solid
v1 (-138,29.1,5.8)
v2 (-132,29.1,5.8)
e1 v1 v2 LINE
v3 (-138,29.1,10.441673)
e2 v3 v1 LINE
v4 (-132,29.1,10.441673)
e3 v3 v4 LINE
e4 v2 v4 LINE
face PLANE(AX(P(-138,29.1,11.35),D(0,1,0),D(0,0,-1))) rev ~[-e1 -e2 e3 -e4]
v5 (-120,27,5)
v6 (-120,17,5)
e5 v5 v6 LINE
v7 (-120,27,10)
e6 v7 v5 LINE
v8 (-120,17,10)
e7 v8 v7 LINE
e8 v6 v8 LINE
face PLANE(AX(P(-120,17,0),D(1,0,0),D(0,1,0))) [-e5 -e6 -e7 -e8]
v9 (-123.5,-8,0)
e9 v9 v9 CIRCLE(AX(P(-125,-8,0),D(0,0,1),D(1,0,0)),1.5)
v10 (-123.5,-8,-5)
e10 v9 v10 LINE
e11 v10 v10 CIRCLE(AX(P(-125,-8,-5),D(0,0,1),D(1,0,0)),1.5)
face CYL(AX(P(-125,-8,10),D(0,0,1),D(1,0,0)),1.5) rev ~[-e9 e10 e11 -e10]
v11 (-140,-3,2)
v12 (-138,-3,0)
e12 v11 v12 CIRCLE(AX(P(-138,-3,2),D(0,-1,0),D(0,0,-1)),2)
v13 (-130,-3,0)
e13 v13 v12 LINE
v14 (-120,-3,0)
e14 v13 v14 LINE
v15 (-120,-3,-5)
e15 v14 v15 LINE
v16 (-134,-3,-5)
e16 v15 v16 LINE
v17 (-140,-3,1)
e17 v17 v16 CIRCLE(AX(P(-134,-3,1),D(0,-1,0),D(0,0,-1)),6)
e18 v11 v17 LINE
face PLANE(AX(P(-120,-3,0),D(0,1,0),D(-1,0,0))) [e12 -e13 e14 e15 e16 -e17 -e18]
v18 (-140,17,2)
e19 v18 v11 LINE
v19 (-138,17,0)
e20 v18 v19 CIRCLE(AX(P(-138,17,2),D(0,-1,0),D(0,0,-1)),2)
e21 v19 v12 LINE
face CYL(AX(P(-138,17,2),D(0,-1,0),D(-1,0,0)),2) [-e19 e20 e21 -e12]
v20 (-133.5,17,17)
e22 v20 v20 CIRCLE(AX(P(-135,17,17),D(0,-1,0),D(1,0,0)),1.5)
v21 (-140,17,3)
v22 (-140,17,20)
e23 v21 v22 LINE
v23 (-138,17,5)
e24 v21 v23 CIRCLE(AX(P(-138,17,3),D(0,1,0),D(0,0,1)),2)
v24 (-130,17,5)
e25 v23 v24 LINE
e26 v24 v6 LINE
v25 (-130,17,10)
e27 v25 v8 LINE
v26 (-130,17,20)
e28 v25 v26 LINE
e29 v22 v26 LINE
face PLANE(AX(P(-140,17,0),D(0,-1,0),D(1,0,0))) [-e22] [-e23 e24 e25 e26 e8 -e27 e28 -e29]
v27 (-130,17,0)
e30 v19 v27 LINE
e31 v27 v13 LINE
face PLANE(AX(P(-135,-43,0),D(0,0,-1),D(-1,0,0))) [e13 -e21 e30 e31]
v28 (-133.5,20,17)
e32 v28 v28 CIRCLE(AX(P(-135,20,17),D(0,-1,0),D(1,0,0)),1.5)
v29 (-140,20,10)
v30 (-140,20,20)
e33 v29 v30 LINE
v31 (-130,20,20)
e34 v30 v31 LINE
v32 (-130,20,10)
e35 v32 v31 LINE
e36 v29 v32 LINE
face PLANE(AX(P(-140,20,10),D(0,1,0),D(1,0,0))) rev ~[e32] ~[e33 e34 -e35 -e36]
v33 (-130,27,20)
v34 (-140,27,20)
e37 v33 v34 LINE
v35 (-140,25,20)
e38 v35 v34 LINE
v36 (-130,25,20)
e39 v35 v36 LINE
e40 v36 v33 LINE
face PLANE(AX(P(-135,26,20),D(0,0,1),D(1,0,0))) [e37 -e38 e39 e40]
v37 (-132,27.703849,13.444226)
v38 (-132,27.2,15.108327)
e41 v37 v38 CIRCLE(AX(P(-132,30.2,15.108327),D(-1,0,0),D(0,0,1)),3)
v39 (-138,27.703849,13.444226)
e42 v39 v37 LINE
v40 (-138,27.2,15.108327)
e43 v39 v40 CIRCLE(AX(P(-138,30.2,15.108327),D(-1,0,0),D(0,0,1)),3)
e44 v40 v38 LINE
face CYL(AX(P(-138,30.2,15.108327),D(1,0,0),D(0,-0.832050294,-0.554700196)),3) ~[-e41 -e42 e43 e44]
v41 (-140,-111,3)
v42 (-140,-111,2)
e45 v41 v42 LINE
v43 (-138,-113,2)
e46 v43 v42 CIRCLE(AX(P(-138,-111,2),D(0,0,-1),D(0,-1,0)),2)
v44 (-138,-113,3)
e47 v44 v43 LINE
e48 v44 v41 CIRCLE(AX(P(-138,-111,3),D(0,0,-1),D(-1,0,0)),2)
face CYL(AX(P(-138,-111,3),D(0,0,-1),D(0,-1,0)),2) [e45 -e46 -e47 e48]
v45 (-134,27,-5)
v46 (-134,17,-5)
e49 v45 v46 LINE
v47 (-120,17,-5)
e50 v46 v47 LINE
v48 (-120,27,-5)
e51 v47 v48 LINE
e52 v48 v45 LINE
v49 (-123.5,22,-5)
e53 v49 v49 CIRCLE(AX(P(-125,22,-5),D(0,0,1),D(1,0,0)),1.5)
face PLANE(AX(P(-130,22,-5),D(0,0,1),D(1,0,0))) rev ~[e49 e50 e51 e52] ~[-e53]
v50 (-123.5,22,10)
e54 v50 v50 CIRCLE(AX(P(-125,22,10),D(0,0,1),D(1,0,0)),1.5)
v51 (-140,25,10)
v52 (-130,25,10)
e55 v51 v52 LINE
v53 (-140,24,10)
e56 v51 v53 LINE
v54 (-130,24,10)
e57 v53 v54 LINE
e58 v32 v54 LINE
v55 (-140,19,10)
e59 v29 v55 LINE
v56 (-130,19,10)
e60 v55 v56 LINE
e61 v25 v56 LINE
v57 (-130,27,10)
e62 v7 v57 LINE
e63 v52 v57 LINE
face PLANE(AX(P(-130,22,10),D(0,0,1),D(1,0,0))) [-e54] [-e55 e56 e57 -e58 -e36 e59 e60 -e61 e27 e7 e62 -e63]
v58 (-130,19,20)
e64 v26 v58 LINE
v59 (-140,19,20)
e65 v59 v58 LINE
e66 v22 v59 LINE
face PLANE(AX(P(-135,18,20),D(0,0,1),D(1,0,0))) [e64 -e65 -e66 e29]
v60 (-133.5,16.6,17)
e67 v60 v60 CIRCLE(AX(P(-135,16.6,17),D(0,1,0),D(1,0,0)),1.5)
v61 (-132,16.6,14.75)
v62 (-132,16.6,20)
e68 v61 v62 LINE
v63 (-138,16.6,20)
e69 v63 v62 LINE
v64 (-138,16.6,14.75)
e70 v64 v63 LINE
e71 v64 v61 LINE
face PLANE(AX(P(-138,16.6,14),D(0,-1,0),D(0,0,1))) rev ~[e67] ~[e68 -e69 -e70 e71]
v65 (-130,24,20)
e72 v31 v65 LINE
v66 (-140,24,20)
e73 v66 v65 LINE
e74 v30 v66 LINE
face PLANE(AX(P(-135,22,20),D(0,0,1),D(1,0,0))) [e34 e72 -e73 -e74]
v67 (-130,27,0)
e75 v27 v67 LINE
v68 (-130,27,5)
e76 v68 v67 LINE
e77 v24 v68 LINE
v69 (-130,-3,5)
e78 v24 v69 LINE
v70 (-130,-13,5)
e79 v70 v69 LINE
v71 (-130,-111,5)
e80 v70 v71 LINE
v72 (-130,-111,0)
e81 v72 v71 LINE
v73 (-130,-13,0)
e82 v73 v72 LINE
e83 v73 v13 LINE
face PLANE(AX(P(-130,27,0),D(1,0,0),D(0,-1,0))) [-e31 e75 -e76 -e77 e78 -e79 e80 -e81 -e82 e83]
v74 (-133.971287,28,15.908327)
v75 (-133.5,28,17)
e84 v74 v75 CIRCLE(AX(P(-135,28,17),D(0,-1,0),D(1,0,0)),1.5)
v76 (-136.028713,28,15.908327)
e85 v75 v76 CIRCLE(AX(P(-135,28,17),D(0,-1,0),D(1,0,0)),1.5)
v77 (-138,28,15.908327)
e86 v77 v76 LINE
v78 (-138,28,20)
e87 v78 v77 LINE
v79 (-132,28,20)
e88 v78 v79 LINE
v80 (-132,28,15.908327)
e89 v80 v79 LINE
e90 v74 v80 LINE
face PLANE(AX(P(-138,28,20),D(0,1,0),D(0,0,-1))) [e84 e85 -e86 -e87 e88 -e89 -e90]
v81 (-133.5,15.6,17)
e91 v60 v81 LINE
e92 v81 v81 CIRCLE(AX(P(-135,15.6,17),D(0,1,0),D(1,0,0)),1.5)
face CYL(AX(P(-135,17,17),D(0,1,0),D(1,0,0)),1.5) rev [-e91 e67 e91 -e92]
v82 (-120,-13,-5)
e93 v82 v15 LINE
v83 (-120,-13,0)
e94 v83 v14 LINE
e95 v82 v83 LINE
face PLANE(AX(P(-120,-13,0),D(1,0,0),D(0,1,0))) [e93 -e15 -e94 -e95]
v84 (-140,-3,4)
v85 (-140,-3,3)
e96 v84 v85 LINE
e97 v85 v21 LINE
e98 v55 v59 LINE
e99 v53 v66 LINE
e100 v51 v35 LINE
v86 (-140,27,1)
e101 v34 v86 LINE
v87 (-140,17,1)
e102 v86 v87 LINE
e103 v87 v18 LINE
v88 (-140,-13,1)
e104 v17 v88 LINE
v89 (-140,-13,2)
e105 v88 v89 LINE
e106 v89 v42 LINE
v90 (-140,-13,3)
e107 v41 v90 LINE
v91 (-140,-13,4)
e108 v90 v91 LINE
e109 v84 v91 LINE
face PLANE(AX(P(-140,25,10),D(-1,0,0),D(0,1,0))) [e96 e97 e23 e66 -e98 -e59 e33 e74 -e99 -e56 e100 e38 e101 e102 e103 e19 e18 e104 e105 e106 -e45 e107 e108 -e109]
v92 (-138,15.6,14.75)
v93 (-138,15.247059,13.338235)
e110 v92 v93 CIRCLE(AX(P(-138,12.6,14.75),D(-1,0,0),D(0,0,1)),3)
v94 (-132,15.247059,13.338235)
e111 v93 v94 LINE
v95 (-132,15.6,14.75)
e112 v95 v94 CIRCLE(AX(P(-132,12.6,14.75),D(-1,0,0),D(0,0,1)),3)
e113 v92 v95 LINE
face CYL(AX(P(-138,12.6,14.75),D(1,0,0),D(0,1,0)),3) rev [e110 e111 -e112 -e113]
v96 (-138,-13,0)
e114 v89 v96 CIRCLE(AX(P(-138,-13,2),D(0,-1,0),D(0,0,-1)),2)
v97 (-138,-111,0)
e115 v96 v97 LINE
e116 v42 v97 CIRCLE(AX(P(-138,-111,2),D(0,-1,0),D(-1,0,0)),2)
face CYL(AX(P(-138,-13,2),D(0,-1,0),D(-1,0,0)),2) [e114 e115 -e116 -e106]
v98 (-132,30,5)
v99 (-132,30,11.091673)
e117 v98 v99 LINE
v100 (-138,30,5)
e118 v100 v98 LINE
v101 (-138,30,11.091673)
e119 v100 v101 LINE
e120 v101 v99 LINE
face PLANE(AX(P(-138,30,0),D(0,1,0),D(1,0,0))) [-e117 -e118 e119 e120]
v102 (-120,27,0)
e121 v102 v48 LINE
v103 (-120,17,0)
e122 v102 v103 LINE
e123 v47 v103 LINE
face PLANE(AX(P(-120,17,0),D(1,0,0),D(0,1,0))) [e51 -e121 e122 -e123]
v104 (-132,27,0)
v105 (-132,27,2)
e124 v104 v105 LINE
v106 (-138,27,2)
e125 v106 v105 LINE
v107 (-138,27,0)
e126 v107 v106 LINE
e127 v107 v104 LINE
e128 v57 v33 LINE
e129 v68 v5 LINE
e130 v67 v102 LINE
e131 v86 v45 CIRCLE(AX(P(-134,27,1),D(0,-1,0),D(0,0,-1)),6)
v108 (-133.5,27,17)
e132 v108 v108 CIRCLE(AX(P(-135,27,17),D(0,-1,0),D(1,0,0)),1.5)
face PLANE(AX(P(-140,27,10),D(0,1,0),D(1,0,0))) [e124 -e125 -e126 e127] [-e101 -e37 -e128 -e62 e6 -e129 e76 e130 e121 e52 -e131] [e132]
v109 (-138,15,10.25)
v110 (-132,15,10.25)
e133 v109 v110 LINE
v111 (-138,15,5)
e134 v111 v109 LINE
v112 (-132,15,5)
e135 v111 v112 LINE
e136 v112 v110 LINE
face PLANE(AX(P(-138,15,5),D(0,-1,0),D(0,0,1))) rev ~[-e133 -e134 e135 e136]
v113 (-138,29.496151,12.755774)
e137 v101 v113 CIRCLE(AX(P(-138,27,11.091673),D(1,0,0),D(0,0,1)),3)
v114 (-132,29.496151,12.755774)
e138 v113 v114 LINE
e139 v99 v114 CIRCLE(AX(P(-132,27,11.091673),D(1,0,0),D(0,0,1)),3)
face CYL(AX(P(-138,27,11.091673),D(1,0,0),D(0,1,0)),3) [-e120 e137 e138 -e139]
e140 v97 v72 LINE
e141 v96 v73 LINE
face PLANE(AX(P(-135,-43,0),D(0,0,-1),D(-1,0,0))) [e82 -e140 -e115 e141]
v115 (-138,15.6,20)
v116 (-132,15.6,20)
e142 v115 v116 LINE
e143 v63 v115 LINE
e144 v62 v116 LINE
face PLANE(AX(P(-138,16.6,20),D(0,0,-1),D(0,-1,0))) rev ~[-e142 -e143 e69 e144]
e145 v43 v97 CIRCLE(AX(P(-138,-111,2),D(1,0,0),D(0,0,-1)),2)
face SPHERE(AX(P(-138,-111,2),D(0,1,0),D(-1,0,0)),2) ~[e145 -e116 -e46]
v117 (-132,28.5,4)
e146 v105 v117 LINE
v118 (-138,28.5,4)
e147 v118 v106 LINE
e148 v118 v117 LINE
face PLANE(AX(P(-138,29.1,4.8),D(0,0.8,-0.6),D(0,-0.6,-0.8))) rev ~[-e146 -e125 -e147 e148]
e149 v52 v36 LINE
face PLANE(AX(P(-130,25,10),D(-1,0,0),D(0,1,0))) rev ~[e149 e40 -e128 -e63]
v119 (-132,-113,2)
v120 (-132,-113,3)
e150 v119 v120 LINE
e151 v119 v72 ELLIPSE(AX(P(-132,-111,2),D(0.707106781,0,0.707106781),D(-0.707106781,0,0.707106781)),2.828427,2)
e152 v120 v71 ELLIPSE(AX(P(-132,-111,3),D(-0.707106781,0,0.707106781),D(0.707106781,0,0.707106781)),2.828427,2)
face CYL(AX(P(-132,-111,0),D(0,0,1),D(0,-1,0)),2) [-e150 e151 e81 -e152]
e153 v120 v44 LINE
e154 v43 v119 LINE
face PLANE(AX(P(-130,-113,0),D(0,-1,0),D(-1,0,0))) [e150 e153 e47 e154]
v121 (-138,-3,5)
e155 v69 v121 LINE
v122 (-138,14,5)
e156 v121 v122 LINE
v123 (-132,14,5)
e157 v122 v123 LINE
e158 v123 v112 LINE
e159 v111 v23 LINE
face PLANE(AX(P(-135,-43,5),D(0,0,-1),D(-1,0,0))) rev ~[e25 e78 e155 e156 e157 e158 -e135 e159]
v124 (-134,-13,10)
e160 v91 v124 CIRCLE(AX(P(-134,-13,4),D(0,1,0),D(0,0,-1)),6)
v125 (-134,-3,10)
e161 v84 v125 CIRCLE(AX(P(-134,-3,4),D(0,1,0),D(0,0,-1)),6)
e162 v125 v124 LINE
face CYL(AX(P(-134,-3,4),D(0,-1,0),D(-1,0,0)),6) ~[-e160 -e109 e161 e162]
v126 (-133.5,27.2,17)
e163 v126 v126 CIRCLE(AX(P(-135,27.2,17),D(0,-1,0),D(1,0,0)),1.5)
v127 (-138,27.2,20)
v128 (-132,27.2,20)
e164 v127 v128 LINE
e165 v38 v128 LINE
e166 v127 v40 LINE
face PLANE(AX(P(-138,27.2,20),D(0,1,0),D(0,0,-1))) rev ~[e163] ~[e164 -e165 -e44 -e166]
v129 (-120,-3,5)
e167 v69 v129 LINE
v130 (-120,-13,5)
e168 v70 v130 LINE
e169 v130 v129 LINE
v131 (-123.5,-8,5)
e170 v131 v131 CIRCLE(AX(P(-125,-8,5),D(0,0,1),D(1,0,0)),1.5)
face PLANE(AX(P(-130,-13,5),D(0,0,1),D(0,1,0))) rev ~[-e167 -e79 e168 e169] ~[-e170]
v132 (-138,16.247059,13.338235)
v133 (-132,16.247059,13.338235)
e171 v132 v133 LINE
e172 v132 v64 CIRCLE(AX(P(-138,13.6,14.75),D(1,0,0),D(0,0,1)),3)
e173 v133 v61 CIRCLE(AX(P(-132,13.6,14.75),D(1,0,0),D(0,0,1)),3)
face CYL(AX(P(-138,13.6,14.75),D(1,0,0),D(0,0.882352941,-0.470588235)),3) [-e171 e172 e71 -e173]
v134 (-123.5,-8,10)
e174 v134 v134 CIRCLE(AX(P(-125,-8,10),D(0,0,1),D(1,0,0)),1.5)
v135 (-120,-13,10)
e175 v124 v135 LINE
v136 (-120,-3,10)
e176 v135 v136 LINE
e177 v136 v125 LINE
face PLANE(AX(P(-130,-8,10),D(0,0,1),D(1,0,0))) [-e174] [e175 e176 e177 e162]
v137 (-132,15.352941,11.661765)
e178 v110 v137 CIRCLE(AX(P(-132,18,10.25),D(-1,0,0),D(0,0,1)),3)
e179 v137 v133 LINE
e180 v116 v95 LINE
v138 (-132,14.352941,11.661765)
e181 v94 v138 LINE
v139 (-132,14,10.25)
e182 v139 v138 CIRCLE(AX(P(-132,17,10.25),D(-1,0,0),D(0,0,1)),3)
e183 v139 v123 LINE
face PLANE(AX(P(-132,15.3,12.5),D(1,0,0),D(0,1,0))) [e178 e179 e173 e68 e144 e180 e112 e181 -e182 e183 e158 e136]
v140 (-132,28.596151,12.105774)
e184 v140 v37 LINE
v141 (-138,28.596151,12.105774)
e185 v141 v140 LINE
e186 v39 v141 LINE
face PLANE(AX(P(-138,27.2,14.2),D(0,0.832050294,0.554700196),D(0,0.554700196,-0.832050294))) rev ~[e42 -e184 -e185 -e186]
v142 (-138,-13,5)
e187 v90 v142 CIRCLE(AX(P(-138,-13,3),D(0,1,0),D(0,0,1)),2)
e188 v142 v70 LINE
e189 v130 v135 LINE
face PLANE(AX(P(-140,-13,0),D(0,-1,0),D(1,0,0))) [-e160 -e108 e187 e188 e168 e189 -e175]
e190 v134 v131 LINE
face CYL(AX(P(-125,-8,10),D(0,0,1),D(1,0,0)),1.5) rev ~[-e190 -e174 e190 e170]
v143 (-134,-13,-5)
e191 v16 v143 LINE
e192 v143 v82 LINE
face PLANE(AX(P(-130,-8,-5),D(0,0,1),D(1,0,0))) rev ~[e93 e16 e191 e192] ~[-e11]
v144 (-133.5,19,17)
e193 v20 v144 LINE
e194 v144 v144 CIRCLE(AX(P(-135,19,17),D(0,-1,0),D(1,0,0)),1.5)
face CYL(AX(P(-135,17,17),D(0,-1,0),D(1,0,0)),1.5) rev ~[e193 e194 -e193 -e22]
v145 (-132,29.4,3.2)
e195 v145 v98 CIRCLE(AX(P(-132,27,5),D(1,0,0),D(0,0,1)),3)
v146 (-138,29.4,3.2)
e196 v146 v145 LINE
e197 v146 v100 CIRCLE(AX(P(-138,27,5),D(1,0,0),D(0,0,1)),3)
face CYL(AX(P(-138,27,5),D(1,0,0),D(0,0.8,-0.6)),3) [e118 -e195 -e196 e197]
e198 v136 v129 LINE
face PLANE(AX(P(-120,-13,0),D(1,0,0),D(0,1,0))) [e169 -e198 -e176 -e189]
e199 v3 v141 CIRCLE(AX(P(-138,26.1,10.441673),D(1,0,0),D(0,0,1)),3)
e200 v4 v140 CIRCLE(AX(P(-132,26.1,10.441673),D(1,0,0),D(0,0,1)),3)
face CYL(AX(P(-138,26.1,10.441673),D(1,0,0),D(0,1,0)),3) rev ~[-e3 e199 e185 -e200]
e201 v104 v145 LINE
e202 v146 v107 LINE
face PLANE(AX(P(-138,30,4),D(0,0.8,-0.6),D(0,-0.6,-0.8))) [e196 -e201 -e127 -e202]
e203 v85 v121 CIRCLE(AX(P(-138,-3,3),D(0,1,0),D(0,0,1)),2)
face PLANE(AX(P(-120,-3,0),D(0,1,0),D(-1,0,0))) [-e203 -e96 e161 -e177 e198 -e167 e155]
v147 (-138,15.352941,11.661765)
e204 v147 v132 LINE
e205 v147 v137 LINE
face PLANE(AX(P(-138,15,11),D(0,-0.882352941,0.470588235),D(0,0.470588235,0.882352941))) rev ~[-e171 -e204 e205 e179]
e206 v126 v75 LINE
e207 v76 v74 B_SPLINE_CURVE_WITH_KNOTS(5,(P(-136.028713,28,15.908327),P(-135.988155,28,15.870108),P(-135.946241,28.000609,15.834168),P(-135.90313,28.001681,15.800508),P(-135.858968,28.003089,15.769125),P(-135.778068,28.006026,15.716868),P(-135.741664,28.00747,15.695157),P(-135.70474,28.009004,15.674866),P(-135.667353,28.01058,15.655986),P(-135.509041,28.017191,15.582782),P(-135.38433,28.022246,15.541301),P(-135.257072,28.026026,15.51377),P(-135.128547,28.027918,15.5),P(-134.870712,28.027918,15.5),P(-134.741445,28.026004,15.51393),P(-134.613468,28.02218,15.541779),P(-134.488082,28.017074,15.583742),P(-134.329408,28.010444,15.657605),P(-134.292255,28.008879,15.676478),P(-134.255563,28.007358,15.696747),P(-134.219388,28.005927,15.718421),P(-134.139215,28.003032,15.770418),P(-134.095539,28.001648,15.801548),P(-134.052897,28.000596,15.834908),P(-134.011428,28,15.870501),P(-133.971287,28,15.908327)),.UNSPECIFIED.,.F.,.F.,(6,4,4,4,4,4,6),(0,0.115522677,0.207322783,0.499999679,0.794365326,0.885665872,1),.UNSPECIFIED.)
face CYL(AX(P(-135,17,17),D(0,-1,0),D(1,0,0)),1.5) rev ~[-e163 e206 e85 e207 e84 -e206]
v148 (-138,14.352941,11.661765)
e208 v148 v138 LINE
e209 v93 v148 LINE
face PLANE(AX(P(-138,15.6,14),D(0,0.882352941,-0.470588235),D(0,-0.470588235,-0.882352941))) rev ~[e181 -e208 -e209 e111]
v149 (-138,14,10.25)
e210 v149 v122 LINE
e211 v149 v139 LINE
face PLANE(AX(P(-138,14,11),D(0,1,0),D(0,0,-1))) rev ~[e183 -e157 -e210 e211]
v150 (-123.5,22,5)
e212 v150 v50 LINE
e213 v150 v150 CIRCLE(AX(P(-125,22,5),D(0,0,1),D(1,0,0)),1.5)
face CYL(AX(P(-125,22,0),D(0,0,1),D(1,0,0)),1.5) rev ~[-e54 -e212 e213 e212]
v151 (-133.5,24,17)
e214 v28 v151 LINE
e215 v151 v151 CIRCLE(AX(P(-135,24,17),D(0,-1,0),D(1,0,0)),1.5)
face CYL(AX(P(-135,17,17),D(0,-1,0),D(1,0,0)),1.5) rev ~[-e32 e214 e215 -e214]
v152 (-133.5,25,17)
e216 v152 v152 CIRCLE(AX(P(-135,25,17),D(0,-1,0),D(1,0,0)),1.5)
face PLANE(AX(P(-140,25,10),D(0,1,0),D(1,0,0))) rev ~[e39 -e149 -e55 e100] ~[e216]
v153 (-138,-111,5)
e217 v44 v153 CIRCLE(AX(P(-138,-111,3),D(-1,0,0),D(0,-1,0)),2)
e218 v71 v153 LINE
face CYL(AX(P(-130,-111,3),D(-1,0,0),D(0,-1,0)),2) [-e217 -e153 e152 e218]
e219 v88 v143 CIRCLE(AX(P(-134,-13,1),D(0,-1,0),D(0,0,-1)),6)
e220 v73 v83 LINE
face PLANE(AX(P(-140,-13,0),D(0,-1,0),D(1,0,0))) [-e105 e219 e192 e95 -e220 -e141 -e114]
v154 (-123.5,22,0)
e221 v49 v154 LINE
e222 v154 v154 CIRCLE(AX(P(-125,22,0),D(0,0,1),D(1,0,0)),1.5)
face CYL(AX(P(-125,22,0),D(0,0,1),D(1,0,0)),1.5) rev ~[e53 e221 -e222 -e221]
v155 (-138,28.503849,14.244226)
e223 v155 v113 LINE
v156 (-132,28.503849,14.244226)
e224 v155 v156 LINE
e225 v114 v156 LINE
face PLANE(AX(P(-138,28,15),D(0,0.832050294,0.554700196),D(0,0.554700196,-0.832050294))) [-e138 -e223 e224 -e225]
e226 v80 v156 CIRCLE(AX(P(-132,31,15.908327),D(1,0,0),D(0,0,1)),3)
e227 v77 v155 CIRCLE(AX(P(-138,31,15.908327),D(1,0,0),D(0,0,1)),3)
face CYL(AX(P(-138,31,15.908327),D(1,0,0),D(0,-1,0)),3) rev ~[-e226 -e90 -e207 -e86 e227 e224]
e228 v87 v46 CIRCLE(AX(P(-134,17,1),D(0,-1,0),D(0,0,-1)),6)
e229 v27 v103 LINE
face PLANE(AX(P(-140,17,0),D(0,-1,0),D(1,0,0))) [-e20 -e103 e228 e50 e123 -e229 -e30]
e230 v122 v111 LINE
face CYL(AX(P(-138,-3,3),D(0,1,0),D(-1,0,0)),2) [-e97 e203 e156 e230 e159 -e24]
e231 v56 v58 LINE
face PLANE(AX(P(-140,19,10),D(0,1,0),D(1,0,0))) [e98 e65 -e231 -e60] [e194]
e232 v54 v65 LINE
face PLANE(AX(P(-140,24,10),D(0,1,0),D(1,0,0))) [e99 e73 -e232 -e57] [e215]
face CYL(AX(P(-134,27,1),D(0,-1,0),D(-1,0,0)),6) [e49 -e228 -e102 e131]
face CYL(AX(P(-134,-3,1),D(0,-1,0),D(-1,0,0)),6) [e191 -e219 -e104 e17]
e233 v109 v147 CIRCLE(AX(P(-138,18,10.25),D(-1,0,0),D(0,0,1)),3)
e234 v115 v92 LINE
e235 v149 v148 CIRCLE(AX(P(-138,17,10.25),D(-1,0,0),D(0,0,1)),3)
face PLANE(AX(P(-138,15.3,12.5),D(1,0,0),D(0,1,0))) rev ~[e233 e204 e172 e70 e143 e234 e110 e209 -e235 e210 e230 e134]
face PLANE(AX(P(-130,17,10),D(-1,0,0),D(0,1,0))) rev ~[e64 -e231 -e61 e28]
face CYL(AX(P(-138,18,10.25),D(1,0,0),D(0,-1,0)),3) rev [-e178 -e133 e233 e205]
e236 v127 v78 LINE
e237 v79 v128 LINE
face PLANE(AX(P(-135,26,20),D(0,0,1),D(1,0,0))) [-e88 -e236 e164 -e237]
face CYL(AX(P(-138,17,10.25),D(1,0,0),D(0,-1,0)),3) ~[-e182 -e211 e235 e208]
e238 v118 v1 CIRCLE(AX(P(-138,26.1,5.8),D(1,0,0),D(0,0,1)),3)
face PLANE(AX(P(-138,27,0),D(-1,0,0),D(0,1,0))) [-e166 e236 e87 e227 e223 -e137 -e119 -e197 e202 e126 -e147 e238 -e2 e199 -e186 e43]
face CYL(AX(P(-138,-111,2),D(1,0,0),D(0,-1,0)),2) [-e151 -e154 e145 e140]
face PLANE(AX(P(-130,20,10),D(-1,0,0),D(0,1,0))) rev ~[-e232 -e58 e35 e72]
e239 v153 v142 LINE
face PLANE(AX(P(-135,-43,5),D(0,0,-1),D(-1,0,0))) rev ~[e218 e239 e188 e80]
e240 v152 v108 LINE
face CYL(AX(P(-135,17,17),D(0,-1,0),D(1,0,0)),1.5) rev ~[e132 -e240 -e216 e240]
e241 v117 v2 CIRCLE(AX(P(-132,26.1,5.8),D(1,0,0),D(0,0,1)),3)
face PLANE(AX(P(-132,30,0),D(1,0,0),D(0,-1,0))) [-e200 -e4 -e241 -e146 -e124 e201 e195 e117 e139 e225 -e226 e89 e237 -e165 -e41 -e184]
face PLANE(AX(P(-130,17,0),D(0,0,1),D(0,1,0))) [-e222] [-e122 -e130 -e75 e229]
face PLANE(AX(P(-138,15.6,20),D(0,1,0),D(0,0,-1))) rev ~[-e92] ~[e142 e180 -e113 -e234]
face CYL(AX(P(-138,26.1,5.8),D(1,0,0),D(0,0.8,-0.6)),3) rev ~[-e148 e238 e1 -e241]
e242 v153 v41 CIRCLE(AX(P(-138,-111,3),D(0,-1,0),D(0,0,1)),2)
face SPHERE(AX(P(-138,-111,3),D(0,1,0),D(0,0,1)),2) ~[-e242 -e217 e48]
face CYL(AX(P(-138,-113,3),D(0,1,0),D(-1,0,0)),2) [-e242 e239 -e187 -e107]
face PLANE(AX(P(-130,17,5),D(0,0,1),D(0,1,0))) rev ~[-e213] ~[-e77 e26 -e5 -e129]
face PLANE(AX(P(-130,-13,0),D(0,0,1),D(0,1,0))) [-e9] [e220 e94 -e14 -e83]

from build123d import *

# Parameters (mm, degrees)
PAD008_DEPTH         = 5
PAD009_DEPTH         = 10
PAD009_DEPTH_BACK    = 5
SKETCH045_W          = 10
SKETCH045_H          = 5
POCKET004_DEPTH      = 11
SKETCH044_R          = 1.5
POCKET005_DEPTH      = 10
PAD010_DEPTH         = 10
PAD010_DEPTH_BACK    = 5
SKETCH042_W          = 10
SKETCH042_H          = 5
POCKET006_DEPTH      = 10
SKETCH041_R          = 1.5
POCKET007_DEPTH      = 15
FILLET_R             = 2
FILLET001_R          = 6
FILLET002_R          = 2
SKETCH039_W          = 10
SKETCH039_H          = 2
SKETCH039_H_2        = 4
PAD021_DEPTH         = 10
PAD022_DEPTH         = 20
POCKET018_DEPTH      = 8
PAD025_DEPTH         = 6
FILLET003_R          = 3
SKETCH040_R          = 1.5
POCKET023_DEPTH      = 15
POCKET023_DEPTH_BACK = 6


with BuildPart() as part:
    # Sketch047 → Pad008 (new body)
    with BuildSketch(Plane.XY):
        Polygon((0, 0), (5, 0), (5, -140), (-5, -140), (-5, 0), align=None)
    extrude(amount=PAD008_DEPTH)

    # Sketch046 → Pad009 (join, two sides)
    with BuildSketch(Plane.XY) as pad009_sk:
        Polygon((0, 0), (-5, 0), (-5, -10), (15, -10), (15, 0), align=None)
    extrude(amount=PAD009_DEPTH)
    extrude(pad009_sk.sketch, amount=-PAD009_DEPTH_BACK)

    # Sketch045 → Pocket004 (cut)
    with BuildSketch(Plane.YZ.offset(5)):
        with Locations((-5, 2.5)):
            Rectangle(SKETCH045_W, SKETCH045_H)
    extrude(amount=POCKET004_DEPTH, mode=Mode.SUBTRACT)

    # Sketch044 → Pocket005 (cut, symmetric)
    with BuildSketch(Plane(origin=(10, -5, 0), x_dir=(1, 0, 0), z_dir=(0, 0, 1))):
        Circle(SKETCH044_R)
    extrude(amount=POCKET005_DEPTH, both=True, mode=Mode.SUBTRACT)

    # Sketch043 → Pad010 (join, two sides)
    with BuildSketch(Plane.XY) as pad010_sk:
        Polygon((0, -30), (-5, -30), (-5, -40), (15, -40), (15, -30), align=None)
    extrude(amount=PAD010_DEPTH)
    extrude(pad010_sk.sketch, amount=-PAD010_DEPTH_BACK)

    # Sketch042 → Pocket006 (cut)
    with BuildSketch(Plane.YZ.offset(5)):
        with Locations((-35, 2.5)):
            Rectangle(SKETCH042_W, SKETCH042_H)
    extrude(amount=POCKET006_DEPTH, mode=Mode.SUBTRACT)

    # Sketch041 → Pocket007 (cut)
    with BuildSketch(Plane(origin=(10, -35, 10), x_dir=(1, 0, 0), z_dir=(0, 0, 1))):
        Circle(SKETCH041_R)
    extrude(amount=-POCKET007_DEPTH, mode=Mode.SUBTRACT)

    # Fillet
    fillet_edges = [part.edges().sort_by_distance(p)[0] for p in [
        (-5, -20, 5),
        (-5, -90, 5),
        (-5, -90, 0),
        (-5, -20, 0),
    ]]
    fillet(fillet_edges, radius=FILLET_R)

    # Fillet001
    fillet001_edges = [part.edges().sort_by_distance(p)[0] for p in [
        (-5, -35, -5),
        (-5, -35, 10),
        (-5, -5, -5),
    ]]
    fillet(fillet001_edges, radius=FILLET001_R)

    # Fillet002
    fillet002_edges = [part.edges().sort_by_distance(p)[0] for p in [
        (5, -140, 2.5),
        (1, -140, 5),
        (-4.414214, -140, 4.414214),
        (-4.414214, -140, 0.585786),
        (1, -140, 0),
        (-5, -140, 2.5),
    ]]
    fillet(fillet002_edges, radius=FILLET002_R)

    # Sketch039 → Pad021 (join)
    with BuildSketch(Plane(origin=(-5, 0, 10), x_dir=(1, 0, 0), z_dir=(0, 0, 1))):
        with Locations((5, -1)):
            Rectangle(SKETCH039_W, SKETCH039_H)
        with Locations((5, -5)):
            Rectangle(SKETCH039_W, SKETCH039_H_2)
        with Locations((5, -9)):
            Rectangle(SKETCH039_W, SKETCH039_H)
    extrude(amount=PAD021_DEPTH)

    # Sketch048 → Pad022 (join)
    with BuildSketch(Plane.XY):
        Polygon((0, 0), (-3, 0), (-3, 3), (3, 3), (3, 0), align=None)
    extrude(amount=PAD022_DEPTH)

    # Sketch049 → Pocket018 (cut)
    with BuildSketch(Plane.YZ.offset(-3)):
        Polygon((0, 0), (3, 0), (3, 4), align=None)
        Polygon((3, 20), (1, 20), (1, 15), (3, 12), align=None)
        Polygon((0, 20), (0.2, 20), (0.2, 14.2), (2.1, 11.35), (2.1, 4.8), (0, 2), (0, 14.5), align=None)
    extrude(amount=POCKET018_DEPTH, mode=Mode.SUBTRACT)

    # Sketch054 → Pad025 (join)
    with BuildSketch(Plane(origin=(-3, -12, 5), x_dir=(0, 1, 0), z_dir=(1, 0, 0))):
        Polygon((0, 0), (0, 6), (1.6, 9), (1.6, 15), (0.6, 15), (0.6, 9), (-1, 6), (-1, 0), align=None)
    extrude(amount=PAD025_DEPTH)

    # Fillet003
    fillet003_edges = [part.edges().sort_by_distance(p)[0] for p in [
        (0, -12, 11),
        (0, -10.4, 14),
        (0, -13, 11),
        (0, -11.4, 14),
        (0, 2.1, 11.35),
        (0, 3, 4),
        (0, 3, 12),
        (0, 1, 15),
        (0, 0.2, 14.2),
        (0, 2.1, 4.8),
    ]]
    fillet(fillet003_edges, radius=FILLET003_R)

    # Sketch040 → Pocket023 (cut, two sides)
    with BuildSketch(Plane(origin=(0, -10, 17), x_dir=(1, 0, 0), z_dir=(0, -1, 0))) as pocket023_sk:
        Circle(SKETCH040_R)
    extrude(amount=-POCKET023_DEPTH, mode=Mode.SUBTRACT)
    extrude(pocket023_sk.sketch, amount=POCKET023_DEPTH_BACK, mode=Mode.SUBTRACT)


with BuildPart() as part_1:
    # Body007 placement: moved
    add(part.part.moved(Location((-135, 27, 0))))


solid = part_1.part
